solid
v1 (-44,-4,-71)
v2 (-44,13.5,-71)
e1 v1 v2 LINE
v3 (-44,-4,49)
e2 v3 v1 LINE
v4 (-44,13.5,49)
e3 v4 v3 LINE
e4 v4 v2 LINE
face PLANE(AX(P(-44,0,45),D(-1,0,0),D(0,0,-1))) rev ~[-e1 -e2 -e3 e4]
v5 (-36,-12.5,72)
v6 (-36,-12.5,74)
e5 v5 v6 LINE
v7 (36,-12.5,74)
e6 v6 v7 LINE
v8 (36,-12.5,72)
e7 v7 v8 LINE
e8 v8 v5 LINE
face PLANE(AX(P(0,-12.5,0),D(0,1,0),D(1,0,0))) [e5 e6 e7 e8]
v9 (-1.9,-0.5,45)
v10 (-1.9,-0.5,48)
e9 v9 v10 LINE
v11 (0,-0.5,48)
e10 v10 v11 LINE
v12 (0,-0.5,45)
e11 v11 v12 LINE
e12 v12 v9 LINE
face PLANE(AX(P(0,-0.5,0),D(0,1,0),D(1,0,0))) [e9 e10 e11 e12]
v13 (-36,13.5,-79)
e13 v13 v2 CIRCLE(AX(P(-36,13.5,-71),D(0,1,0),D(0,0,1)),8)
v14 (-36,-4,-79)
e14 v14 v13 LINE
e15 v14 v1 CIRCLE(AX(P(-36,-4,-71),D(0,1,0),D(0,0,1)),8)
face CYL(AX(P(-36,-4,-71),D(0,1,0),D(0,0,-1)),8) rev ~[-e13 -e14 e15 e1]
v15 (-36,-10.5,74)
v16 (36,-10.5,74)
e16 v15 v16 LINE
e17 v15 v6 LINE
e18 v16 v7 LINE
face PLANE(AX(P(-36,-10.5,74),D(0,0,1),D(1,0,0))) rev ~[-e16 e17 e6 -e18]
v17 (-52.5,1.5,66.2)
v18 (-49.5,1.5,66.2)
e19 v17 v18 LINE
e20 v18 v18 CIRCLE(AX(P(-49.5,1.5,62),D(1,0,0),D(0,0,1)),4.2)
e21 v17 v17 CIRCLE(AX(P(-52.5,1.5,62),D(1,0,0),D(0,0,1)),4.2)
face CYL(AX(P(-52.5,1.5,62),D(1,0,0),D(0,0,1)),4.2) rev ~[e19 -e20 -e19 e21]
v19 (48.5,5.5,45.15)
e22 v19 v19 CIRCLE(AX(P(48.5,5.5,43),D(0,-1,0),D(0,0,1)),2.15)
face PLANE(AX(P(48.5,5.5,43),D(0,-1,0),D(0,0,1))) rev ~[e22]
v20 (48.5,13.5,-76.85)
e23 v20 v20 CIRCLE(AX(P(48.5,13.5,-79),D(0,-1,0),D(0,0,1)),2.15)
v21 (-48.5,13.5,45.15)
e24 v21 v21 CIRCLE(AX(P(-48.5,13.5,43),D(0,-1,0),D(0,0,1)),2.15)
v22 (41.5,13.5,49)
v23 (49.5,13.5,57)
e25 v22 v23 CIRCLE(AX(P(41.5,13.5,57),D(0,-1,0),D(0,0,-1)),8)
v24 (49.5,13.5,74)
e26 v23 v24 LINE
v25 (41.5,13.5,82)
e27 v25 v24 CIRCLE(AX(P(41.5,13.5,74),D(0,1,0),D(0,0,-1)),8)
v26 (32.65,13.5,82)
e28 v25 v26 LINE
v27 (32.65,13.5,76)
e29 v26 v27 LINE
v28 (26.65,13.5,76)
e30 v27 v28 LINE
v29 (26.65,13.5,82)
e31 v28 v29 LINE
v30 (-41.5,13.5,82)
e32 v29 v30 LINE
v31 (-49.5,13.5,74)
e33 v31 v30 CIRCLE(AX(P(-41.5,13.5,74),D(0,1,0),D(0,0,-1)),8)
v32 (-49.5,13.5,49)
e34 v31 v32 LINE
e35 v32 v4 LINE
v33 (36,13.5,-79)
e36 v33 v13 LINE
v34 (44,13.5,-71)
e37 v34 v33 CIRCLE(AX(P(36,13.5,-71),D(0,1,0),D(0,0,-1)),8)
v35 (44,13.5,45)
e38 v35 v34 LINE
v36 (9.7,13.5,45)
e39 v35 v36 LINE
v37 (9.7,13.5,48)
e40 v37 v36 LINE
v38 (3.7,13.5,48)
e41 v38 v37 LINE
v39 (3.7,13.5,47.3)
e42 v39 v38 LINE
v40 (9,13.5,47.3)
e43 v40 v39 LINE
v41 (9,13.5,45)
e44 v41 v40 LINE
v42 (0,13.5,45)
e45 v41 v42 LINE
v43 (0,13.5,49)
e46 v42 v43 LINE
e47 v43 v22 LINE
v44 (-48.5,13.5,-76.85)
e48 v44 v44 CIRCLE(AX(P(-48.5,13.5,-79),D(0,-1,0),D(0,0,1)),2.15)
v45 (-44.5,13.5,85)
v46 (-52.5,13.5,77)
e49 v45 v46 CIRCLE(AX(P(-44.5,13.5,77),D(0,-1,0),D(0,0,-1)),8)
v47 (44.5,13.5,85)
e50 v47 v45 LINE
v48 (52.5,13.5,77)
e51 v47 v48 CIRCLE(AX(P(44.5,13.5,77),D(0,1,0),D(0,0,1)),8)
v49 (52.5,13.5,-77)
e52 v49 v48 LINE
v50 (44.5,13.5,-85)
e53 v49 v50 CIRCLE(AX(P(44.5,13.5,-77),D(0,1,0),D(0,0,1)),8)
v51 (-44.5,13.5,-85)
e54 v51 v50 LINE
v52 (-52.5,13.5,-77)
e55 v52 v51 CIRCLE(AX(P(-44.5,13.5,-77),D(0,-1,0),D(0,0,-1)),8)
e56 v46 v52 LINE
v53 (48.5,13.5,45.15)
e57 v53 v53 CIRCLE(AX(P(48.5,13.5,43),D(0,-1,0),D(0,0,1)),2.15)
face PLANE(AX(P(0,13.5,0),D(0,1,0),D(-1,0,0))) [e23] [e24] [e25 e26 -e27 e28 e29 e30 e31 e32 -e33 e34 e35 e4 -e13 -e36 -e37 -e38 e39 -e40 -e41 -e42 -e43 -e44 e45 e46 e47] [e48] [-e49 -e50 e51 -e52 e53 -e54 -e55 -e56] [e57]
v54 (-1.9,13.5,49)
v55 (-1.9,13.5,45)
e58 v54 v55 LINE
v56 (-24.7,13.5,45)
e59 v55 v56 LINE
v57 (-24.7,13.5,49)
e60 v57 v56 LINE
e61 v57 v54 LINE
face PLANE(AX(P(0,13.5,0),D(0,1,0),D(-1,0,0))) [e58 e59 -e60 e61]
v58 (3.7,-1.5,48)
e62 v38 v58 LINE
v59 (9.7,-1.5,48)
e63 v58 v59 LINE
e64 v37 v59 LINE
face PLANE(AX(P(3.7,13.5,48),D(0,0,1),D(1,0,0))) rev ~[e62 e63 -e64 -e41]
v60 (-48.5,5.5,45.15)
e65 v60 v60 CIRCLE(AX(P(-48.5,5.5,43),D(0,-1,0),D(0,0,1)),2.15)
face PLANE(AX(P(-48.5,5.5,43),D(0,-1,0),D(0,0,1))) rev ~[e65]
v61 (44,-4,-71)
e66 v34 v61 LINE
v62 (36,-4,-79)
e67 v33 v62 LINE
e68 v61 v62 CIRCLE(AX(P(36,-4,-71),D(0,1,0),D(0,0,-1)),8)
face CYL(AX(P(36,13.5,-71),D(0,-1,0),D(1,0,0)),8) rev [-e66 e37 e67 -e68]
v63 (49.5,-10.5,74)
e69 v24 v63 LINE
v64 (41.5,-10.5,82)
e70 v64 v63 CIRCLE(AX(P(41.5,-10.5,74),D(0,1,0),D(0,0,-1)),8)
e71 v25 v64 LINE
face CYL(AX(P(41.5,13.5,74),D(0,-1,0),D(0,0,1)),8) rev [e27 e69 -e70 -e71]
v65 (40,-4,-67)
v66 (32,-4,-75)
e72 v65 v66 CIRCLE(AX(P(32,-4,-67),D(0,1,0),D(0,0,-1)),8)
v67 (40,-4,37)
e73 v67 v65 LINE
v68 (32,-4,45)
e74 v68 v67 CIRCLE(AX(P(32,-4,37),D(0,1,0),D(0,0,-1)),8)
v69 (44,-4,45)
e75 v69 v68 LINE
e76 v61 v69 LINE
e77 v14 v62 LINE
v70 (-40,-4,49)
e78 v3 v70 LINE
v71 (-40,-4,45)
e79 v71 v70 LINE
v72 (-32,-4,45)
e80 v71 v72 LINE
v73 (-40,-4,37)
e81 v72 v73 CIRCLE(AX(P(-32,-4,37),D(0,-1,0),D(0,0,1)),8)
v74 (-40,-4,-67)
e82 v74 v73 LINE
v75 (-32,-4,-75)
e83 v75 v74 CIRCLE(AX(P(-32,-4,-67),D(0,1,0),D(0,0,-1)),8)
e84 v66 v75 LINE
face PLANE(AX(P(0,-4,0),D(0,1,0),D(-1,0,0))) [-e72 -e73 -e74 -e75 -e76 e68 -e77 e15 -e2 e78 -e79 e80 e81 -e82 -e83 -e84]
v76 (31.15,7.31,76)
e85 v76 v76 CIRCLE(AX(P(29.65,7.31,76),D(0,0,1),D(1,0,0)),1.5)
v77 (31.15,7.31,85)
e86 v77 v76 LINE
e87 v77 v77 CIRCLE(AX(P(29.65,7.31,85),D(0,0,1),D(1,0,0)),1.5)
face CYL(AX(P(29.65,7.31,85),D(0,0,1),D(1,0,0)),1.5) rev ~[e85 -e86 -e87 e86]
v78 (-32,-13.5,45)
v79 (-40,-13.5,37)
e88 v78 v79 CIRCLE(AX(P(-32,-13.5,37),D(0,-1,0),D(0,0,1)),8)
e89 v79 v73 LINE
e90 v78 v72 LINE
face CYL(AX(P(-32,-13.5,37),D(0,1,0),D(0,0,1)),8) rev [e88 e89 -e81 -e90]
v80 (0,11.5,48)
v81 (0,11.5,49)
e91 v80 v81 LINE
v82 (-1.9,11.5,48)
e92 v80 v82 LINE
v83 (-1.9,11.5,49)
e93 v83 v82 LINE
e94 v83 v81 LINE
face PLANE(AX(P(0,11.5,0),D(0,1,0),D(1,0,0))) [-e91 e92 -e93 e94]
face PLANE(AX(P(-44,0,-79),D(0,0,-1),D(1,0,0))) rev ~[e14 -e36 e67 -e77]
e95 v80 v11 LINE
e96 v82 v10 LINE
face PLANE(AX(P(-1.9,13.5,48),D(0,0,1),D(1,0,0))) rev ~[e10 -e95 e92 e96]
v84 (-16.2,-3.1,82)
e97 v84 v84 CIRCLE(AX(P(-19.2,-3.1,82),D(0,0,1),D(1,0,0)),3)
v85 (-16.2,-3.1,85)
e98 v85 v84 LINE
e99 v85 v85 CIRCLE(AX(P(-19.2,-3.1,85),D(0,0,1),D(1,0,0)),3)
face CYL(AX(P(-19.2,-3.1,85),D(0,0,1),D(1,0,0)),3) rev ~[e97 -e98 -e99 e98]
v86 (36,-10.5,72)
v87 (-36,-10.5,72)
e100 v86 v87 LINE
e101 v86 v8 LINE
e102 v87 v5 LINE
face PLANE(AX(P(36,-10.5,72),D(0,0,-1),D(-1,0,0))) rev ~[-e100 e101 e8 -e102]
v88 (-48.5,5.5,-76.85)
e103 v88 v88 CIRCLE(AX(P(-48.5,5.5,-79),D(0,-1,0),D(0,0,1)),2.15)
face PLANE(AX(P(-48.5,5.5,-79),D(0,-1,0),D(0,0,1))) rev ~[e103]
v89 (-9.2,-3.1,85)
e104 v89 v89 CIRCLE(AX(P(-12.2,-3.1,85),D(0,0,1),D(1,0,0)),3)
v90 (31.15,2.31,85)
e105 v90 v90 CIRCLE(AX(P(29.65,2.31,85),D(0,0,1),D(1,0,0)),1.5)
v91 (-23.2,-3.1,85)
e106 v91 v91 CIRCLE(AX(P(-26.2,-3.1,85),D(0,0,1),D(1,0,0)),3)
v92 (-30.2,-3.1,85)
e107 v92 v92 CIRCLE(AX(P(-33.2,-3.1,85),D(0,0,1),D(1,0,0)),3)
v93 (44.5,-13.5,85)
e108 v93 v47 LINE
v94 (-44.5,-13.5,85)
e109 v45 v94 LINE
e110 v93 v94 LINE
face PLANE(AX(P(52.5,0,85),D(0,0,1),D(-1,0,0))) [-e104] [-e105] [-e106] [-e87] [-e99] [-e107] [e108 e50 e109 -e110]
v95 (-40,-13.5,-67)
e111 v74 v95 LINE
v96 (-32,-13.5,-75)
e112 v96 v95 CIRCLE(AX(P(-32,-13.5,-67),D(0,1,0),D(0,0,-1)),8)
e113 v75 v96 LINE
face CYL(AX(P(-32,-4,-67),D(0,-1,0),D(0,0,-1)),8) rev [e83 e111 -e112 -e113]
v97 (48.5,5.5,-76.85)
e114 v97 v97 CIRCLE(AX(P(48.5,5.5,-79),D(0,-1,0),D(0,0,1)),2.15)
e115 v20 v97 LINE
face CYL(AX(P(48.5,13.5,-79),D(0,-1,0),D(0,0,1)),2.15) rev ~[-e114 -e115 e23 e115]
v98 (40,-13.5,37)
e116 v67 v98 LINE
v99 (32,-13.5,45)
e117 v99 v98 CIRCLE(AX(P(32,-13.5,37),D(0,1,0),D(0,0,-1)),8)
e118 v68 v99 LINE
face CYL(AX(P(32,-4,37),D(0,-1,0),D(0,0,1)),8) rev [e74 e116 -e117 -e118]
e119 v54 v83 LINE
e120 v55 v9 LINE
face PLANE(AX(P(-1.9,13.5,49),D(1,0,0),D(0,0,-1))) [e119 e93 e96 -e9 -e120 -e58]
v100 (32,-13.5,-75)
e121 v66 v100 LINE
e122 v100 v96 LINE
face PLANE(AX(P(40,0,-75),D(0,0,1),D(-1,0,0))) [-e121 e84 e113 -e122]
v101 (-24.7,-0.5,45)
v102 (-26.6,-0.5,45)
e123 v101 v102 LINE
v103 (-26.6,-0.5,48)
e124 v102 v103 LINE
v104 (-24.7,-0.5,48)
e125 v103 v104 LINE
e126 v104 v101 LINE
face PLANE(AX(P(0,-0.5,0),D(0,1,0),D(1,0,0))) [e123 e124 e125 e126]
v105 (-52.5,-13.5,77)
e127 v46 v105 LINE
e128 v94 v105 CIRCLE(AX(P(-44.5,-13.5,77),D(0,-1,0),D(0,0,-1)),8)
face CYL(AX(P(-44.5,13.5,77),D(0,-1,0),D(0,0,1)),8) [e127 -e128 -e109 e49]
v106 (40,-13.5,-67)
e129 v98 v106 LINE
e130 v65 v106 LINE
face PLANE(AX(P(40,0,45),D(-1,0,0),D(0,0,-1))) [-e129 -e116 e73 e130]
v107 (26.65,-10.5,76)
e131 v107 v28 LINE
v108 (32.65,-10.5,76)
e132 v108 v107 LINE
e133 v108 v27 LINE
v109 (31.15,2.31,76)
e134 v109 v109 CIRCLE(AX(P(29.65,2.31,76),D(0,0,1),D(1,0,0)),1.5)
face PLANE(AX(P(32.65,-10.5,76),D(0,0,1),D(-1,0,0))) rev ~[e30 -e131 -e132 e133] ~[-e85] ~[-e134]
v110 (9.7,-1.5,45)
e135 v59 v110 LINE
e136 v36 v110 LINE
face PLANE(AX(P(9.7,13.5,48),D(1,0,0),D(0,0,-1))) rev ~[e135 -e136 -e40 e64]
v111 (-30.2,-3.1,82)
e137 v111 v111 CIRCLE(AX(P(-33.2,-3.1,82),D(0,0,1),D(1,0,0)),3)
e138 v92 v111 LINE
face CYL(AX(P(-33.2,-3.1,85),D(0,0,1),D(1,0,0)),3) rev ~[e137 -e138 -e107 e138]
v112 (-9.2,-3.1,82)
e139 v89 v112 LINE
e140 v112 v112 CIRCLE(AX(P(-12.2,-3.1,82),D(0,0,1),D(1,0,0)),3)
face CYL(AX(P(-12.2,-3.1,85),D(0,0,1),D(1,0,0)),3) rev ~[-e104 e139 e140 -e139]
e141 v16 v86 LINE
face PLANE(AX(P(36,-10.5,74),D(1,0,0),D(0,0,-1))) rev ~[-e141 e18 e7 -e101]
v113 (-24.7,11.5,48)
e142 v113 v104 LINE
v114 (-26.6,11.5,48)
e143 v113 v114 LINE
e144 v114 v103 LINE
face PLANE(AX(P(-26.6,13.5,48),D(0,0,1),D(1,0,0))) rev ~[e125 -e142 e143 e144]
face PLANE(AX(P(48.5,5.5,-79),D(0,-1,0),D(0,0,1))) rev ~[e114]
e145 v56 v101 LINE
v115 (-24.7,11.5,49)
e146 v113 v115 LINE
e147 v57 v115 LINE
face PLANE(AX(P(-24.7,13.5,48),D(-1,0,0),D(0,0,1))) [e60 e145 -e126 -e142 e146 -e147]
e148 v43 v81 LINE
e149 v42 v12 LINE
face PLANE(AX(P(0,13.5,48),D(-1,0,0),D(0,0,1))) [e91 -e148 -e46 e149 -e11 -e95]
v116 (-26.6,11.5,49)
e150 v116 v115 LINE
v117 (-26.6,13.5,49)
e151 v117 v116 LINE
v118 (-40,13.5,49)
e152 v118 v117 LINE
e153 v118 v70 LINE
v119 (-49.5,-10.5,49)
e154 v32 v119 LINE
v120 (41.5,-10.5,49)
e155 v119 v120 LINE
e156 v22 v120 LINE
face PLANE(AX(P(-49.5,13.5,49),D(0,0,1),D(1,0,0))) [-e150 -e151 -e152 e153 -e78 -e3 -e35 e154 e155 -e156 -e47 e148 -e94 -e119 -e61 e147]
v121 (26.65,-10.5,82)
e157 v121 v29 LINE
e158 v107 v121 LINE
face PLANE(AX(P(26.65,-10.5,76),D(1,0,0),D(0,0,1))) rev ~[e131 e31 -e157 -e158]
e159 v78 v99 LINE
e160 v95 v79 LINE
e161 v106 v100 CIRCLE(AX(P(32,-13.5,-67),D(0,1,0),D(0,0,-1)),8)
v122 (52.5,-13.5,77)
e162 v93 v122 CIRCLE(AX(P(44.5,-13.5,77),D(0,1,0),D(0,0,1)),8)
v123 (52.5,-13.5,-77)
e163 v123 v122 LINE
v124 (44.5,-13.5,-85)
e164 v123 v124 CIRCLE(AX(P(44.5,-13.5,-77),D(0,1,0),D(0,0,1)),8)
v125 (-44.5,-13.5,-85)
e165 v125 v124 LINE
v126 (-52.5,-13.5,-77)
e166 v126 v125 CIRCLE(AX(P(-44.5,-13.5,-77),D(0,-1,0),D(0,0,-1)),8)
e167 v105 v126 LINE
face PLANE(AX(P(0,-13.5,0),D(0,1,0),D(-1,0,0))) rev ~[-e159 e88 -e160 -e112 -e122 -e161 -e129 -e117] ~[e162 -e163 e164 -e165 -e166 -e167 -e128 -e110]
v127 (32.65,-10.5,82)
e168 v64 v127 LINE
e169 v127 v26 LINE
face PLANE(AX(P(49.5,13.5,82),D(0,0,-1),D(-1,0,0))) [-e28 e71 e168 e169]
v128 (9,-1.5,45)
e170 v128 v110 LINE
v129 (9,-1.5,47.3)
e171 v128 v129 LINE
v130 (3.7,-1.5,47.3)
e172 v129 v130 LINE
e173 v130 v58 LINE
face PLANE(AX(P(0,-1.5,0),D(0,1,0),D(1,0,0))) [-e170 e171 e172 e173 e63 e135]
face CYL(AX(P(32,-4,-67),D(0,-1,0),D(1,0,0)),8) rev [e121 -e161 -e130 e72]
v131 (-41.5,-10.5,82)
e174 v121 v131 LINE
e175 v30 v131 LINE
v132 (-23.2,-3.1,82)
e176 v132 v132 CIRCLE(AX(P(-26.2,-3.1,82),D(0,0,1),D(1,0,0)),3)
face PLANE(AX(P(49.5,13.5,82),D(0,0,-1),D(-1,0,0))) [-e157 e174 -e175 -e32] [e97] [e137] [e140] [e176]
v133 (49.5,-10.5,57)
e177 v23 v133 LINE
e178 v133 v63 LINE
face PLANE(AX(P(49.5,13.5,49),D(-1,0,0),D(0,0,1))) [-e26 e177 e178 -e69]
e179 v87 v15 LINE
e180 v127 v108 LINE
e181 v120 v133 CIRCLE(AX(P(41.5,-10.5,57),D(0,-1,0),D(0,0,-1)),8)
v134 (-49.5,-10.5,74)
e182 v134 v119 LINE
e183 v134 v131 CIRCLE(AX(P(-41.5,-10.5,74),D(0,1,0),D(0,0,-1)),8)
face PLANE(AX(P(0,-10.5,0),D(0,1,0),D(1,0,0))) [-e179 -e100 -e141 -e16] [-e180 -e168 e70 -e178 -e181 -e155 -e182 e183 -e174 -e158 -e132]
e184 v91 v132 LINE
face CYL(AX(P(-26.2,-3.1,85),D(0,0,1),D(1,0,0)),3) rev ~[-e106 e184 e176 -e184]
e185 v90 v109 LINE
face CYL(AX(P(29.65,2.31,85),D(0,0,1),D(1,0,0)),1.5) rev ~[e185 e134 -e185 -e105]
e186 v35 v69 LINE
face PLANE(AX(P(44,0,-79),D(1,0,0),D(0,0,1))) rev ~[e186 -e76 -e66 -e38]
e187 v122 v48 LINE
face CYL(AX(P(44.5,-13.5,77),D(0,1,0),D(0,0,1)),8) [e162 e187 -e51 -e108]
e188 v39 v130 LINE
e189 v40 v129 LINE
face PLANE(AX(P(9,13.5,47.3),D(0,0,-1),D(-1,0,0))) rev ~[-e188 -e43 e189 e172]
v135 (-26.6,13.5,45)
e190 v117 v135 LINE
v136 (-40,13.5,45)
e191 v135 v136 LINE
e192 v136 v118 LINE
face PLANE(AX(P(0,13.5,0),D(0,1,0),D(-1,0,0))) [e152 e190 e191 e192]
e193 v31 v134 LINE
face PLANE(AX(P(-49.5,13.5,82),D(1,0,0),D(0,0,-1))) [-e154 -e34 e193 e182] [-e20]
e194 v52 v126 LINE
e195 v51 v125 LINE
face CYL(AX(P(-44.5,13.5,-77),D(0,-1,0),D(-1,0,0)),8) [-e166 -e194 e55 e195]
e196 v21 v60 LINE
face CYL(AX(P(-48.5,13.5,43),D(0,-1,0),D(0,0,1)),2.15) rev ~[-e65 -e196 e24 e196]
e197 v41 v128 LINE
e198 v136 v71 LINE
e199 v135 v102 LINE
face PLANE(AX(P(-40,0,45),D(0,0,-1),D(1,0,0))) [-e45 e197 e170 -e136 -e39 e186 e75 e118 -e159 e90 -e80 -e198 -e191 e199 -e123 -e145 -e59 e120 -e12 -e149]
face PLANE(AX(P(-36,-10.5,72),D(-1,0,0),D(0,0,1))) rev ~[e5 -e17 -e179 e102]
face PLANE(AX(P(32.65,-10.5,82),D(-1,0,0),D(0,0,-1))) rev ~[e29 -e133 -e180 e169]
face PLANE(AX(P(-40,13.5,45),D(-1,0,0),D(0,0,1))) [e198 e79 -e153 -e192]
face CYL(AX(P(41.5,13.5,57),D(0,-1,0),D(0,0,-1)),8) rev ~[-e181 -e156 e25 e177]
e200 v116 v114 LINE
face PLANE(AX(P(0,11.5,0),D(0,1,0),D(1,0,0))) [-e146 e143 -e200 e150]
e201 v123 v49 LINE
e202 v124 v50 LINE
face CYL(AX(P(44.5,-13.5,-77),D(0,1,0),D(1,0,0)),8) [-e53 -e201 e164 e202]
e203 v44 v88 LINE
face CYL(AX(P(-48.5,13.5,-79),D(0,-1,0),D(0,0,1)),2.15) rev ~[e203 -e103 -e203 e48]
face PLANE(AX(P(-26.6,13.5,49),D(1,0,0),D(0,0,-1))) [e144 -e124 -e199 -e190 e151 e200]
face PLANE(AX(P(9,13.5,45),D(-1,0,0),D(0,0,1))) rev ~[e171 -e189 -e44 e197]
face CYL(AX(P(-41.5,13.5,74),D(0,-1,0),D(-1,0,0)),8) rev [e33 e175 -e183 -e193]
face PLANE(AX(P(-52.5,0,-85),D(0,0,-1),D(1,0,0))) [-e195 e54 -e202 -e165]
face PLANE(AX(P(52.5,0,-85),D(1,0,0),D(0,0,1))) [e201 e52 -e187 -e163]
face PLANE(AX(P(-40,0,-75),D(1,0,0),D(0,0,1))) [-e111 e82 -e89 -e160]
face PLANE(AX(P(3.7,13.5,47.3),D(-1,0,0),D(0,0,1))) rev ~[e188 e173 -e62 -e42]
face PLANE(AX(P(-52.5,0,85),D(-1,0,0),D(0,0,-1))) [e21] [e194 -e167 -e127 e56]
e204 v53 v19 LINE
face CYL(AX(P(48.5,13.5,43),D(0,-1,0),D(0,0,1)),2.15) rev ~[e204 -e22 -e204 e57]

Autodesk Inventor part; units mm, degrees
ref_plane "YZ Plane" through (0, 0, 0) normal (1, 0, 0) x (0, 1, 0)
ref_plane "XZ Plane" through (0, 0, 0) normal (0, 1, 0) x (-1, 0, 0)
ref_plane "XY Plane" through (0, 0, 0) normal (0, 0, 1) x (1, 0, 0)
sketch "Sketch1" plane through (0, 0, 0) normal (0, 1, 0) x (-1, 0, 0)
  line L0 (-52.5, 85) -> (52.5, 85)
  line L1 (52.5, 85) -> (52.5, -85)
  line L2 (52.5, -85) -> (-52.5, -85)
  line L3 (-52.5, -85) -> (-52.5, 85)
  line L4 (-52.5, 85) -> (52.5, -85) construction
  line L5 (52.5, 85) -> (-52.5, -85) construction
  line L6 (40, 45) -> (-40, 45)
  line L7 (-40, 45) -> (-40, -75)
  line L8 (-40, -75) -> (40, -75)
  line L9 (40, -75) -> (40, 45)
  point P0 (0, 0)
  point P1 (0, -75)
  point P2 (0, 0)
  point P3 (0, -85)
  dimension "d0" = 120
  dimension "d1" = 80
  dimension "d2" = 105
  dimension "d3" = 10
  dimension "d4" = 170
extrude "Extrusion1" add sketch "Sketch1" along normal mid plane 27
sketch "Sketch2" plane through (0, 0, 0) normal (0, 1, 0) x (-1, 0, 0)
  line L0 (44, -79) -> (-44, -79)
  line L1 (-44, -79) -> (-44, 45)
  line L2 (-44, 45) -> (44, 45)
  line L3 (44, 45) -> (44, -79)
  line L4 (-40, -75) -> (40, -75) projected
  line L5 (40, -75) -> (40, 45) projected
  line L6 (-40, 45) -> (-40, -75) projected
  point P0 (0, 0)
  dimension "d7" = 4
  dimension "d8" = 4
  dimension "d9" = 4
extrude "Extrusion2" cut sketch "Sketch2" along normal blind 15 and the other way blind 4
sketch "Sketch3" plane through (0, 13.5, 0) normal (0, 1, 0) x (1, 0, 0)
  line L0 (-49.5, -49) -> (49.5, -49)
  line L1 (49.5, -49) -> (49.5, -82)
  line L2 (49.5, -82) -> (-49.5, -82)
  line L3 (-49.5, -82) -> (-49.5, -49)
  line L4 (-52.5, 85) -> (-52.5, -85) projected
  line L5 (-52.5, -85) -> (52.5, -85) projected
  line L6 (44, -45) -> (-44, -45) projected
  point P0 (0, 0)
  point P1 (0, -49)
  dimension "d14" = 3
  dimension "d15" = 3
  dimension "d16" = 4
extrude "Extrusion3" cut sketch "Sketch3" against normal blind 24
sketch "Sketch4" plane through (0, 13.5, 0) normal (0, 1, 0) x (1, 0, 0)
  line L0 (44, -45) -> (-44, -45) projected
  line L1 (-49.5, -49) -> (49.5, -49) projected
  line L2 (-44, -45) -> (-40, -45)
  line L3 (-40, -45) -> (-40, -49)
  line L4 (-40, -49) -> (-44, -49)
  line L5 (-44, -49) -> (-44, -45)
  point P0 (0, 0)
  point P1 (-40, 75)
extrude "Extrusion4" cut sketch "Sketch4" against normal up to surface (17.5 mm away)
sketch "Sketch5" plane through (0, 13.5, 0) normal (0, 1, 0) x (1, 0, 0)
  line L0 (44, -45) -> (-40, -45) projected
  line L1 (-26.6, -48) -> (-24.7, -48)
  line L2 (-24.7, -48) -> (-24.7, -45)
  line L3 (-24.7, -45) -> (-26.6, -45)
  line L4 (-26.6, -45) -> (-26.6, -48)
  line L5 (-1.9, -48) -> (0, -48)
  line L6 (0, -48) -> (0, -45)
  line L7 (0, -45) -> (-1.9, -45)
  line L8 (-1.9, -45) -> (-1.9, -48)
  line L9 (-40, -45) -> (40, -45) projected
  point P0 (0, 0)
  dimension "d21" = 1.9
  dimension "d22" = 1.9
  dimension "d23" = 22.8
  dimension "d24" = 3
extrude "Extrusion5" cut sketch "Sketch5" against normal blind 14
sketch "Sketch6" plane through (0, 13.5, 0) normal (0, 1, 0) x (1, 0, 0)
  line L0 (-40, -45) -> (40, -45) projected
  line L1 (9, -45) -> (9, -47.3)
  line L2 (9, -47.3) -> (3.7, -47.3)
  line L3 (3.7, -47.3) -> (3.7, -48)
  line L4 (3.7, -48) -> (9.7, -48)
  line L5 (9.7, -48) -> (9.7, -45)
  line L6 (0, -45) -> (0, -48) projected
  point P0 (0, 0)
  dimension "d27" = 0.7
  dimension "d28" = 0.7
  dimension "d29" = 3
  dimension "d30" = 6
  dimension "d31" = 9
extrude "Extrusion6" cut sketch "Sketch6" against normal blind 15
fillet "Fillet1" radius 8 12 edges at (-44, 4.75, -79) (44, 4.75, -79) (40, -8.75, -75) (-40, -8.75, -75) (52.5, 0, -85) (-52.5, 0, -85) (-52.5, 0, 85) (-49.5, 1.5, 82) (49.5, 1.5, 82) (52.5, 0, 85) (40, -8.75, 45) (-40, -8.75, 45)
sketch "Sketch7" plane through (0, -10.5, 0) normal (0, 1, 0) x (1, 0, 0)
  line L0 (-36, -74) -> (36, -74)
  line L1 (36, -74) -> (36, -72)
  line L2 (36, -72) -> (-36, -72)
  line L3 (-36, -72) -> (-36, -74)
  line L4 (41.5, -82) -> (-41.5, -82) projected
  point P0 (0, 0)
  point P1 (0, -72)
  dimension "d35" = 2
  dimension "d36" = 72
  dimension "d37" = 8
extrude "Extrusion7" cut sketch "Sketch7" against normal blind 2
sketch "Sketch8" plane through (-52.5, -13.5, 77) normal (-1, 0, 0) x (0, 0, 1)
  line L0 (0, 0) -> (-154, 0) projected
  line L1 (-3, 3) -> (-3, 27) projected
  point P0 (-77, 13.5)
  point P1 (-15, 15)
  dimension "d40" = 15
  dimension "d41" = 12
hole "Hole1" at (-52.5, 1.5, 62) direction (1, 0, 0) diameter 8.4 depth 8 tip angle 118
fillet "Fillet2" radius 8 1 edges at (49.5, 1.5, 49)
sketch "Sketch9" plane through (0, 13.5, 0) normal (0, 1, 0) x (1, 0, 0)
  line L0 (-48.5, 79) -> (48.5, 79) construction
  line L1 (48.5, 79) -> (48.5, -43) construction
  line L2 (48.5, -43) -> (-48.5, -43) construction
  line L3 (-48.5, -43) -> (-48.5, 79) construction
  line L4 (44.5, 85) -> (-44.5, 85) projected
  line L5 (-52.5, 77) -> (-52.5, -77) projected
  line L6 (-40, -49) -> (41.5, -49) projected
  point P0 (0, 0)
  point P1 (0, 79)
  dimension "d50" = 6
  dimension "d51" = 4
  dimension "d52" = 6
hole "Hole2" at (-48.5, 13.5, -79) at (48.5, 13.5, -79) at (48.5, 13.5, 43) at (-48.5, 13.5, 43) direction (0, -1, 0) diameter 4.3 depth 8
sketch "Sketch10" plane through (-44.5, 13.5, 85) normal (0, 0, 1) x (1, 0, 0)
  circle A0 centre (25.3, -16.6) radius 3
  circle A1 centre (32.3, -16.6) radius 3
  circle A2 centre (18.3, -16.6) radius 3
  circle A3 centre (11.3, -16.6) radius 3
  line L0 (-8, 0) -> (-8, -27) projected
  line L1 (89, -27) -> (0, -27) projected
  point P0 (44.5, -13.5)
  dimension "d60" = 6
  dimension "d61" = 6
  dimension "d62" = 6
  dimension "d63" = 6
  dimension "d64" = 7
  dimension "d65" = 7
  dimension "d66" = 7
  dimension "d67" = 19.3
  dimension "d68" = 10.4
extrude "Extrusion8" cut sketch "Sketch10" against normal blind 10
sketch "Sketch13" plane through (0, -10.5, 0) normal (0, 1, 0) x (1, 0, 0)
  line L0 (41.5, -82) -> (-41.5, -82) projected
  line L1 (26.65, -82) -> (32.65, -82)
  line L2 (32.65, -82) -> (32.65, -76)
  line L3 (32.65, -76) -> (26.65, -76)
  line L4 (26.65, -76) -> (26.65, -82)
  point P0 (0, 0)
  point P1 (52.5, -77)
  dimension "d78" = 6
  dimension "d79" = 6
  dimension "d82" = 19.85
extrude "Extrusion10" add sketch "Sketch13" along normal up to surface (24 mm away)
sketch "Sketch11" plane through (-44.5, 13.5, 85) normal (0, 0, 1) x (1, 0, 0)
  circle A0 centre (74.15, -11.19) radius 1.5
  circle A1 centre (74.15, -6.19) radius 1.5
  line L0 (89, -27) -> (0, -27) projected
  line L1 (97, -27) -> (97, 0) projected
  point P0 (44.5, -13.5)
  dimension "d71" = 3
  dimension "d72" = 3
  dimension "d73" = 5
  dimension "d76" = 20.81
  dimension "d77" = 22.85
extrude "Extrusion9" cut sketch "Sketch11" against normal blind 10
sketch "Sketch14" plane through (0, 13.5, 0) normal (0, 1, 0) x (1, 0, 0)
  line L0 (-24.7, -48) -> (-26.6, -48) projected
  line L1 (-40, -49) -> (41.5, -49) projected
  line L2 (-26.6, -48) -> (-24.7, -48)
  line L3 (-24.7, -48) -> (-24.7, -49)
  line L4 (-24.7, -49) -> (-26.6, -49)
  line L5 (-26.6, -49) -> (-26.6, -48)
  line L6 (0, -48) -> (-1.9, -48) projected
  line L7 (-1.9, -48) -> (0, -48)
  line L8 (0, -48) -> (0, -49)
  line L9 (0, -49) -> (-1.9, -49)
  line L10 (-1.9, -49) -> (-1.9, -48)
  point P0 (0, 0)
extrude "Extrusion11" cut sketch "Sketch14" against normal blind 2
properties part number "Bottom"
